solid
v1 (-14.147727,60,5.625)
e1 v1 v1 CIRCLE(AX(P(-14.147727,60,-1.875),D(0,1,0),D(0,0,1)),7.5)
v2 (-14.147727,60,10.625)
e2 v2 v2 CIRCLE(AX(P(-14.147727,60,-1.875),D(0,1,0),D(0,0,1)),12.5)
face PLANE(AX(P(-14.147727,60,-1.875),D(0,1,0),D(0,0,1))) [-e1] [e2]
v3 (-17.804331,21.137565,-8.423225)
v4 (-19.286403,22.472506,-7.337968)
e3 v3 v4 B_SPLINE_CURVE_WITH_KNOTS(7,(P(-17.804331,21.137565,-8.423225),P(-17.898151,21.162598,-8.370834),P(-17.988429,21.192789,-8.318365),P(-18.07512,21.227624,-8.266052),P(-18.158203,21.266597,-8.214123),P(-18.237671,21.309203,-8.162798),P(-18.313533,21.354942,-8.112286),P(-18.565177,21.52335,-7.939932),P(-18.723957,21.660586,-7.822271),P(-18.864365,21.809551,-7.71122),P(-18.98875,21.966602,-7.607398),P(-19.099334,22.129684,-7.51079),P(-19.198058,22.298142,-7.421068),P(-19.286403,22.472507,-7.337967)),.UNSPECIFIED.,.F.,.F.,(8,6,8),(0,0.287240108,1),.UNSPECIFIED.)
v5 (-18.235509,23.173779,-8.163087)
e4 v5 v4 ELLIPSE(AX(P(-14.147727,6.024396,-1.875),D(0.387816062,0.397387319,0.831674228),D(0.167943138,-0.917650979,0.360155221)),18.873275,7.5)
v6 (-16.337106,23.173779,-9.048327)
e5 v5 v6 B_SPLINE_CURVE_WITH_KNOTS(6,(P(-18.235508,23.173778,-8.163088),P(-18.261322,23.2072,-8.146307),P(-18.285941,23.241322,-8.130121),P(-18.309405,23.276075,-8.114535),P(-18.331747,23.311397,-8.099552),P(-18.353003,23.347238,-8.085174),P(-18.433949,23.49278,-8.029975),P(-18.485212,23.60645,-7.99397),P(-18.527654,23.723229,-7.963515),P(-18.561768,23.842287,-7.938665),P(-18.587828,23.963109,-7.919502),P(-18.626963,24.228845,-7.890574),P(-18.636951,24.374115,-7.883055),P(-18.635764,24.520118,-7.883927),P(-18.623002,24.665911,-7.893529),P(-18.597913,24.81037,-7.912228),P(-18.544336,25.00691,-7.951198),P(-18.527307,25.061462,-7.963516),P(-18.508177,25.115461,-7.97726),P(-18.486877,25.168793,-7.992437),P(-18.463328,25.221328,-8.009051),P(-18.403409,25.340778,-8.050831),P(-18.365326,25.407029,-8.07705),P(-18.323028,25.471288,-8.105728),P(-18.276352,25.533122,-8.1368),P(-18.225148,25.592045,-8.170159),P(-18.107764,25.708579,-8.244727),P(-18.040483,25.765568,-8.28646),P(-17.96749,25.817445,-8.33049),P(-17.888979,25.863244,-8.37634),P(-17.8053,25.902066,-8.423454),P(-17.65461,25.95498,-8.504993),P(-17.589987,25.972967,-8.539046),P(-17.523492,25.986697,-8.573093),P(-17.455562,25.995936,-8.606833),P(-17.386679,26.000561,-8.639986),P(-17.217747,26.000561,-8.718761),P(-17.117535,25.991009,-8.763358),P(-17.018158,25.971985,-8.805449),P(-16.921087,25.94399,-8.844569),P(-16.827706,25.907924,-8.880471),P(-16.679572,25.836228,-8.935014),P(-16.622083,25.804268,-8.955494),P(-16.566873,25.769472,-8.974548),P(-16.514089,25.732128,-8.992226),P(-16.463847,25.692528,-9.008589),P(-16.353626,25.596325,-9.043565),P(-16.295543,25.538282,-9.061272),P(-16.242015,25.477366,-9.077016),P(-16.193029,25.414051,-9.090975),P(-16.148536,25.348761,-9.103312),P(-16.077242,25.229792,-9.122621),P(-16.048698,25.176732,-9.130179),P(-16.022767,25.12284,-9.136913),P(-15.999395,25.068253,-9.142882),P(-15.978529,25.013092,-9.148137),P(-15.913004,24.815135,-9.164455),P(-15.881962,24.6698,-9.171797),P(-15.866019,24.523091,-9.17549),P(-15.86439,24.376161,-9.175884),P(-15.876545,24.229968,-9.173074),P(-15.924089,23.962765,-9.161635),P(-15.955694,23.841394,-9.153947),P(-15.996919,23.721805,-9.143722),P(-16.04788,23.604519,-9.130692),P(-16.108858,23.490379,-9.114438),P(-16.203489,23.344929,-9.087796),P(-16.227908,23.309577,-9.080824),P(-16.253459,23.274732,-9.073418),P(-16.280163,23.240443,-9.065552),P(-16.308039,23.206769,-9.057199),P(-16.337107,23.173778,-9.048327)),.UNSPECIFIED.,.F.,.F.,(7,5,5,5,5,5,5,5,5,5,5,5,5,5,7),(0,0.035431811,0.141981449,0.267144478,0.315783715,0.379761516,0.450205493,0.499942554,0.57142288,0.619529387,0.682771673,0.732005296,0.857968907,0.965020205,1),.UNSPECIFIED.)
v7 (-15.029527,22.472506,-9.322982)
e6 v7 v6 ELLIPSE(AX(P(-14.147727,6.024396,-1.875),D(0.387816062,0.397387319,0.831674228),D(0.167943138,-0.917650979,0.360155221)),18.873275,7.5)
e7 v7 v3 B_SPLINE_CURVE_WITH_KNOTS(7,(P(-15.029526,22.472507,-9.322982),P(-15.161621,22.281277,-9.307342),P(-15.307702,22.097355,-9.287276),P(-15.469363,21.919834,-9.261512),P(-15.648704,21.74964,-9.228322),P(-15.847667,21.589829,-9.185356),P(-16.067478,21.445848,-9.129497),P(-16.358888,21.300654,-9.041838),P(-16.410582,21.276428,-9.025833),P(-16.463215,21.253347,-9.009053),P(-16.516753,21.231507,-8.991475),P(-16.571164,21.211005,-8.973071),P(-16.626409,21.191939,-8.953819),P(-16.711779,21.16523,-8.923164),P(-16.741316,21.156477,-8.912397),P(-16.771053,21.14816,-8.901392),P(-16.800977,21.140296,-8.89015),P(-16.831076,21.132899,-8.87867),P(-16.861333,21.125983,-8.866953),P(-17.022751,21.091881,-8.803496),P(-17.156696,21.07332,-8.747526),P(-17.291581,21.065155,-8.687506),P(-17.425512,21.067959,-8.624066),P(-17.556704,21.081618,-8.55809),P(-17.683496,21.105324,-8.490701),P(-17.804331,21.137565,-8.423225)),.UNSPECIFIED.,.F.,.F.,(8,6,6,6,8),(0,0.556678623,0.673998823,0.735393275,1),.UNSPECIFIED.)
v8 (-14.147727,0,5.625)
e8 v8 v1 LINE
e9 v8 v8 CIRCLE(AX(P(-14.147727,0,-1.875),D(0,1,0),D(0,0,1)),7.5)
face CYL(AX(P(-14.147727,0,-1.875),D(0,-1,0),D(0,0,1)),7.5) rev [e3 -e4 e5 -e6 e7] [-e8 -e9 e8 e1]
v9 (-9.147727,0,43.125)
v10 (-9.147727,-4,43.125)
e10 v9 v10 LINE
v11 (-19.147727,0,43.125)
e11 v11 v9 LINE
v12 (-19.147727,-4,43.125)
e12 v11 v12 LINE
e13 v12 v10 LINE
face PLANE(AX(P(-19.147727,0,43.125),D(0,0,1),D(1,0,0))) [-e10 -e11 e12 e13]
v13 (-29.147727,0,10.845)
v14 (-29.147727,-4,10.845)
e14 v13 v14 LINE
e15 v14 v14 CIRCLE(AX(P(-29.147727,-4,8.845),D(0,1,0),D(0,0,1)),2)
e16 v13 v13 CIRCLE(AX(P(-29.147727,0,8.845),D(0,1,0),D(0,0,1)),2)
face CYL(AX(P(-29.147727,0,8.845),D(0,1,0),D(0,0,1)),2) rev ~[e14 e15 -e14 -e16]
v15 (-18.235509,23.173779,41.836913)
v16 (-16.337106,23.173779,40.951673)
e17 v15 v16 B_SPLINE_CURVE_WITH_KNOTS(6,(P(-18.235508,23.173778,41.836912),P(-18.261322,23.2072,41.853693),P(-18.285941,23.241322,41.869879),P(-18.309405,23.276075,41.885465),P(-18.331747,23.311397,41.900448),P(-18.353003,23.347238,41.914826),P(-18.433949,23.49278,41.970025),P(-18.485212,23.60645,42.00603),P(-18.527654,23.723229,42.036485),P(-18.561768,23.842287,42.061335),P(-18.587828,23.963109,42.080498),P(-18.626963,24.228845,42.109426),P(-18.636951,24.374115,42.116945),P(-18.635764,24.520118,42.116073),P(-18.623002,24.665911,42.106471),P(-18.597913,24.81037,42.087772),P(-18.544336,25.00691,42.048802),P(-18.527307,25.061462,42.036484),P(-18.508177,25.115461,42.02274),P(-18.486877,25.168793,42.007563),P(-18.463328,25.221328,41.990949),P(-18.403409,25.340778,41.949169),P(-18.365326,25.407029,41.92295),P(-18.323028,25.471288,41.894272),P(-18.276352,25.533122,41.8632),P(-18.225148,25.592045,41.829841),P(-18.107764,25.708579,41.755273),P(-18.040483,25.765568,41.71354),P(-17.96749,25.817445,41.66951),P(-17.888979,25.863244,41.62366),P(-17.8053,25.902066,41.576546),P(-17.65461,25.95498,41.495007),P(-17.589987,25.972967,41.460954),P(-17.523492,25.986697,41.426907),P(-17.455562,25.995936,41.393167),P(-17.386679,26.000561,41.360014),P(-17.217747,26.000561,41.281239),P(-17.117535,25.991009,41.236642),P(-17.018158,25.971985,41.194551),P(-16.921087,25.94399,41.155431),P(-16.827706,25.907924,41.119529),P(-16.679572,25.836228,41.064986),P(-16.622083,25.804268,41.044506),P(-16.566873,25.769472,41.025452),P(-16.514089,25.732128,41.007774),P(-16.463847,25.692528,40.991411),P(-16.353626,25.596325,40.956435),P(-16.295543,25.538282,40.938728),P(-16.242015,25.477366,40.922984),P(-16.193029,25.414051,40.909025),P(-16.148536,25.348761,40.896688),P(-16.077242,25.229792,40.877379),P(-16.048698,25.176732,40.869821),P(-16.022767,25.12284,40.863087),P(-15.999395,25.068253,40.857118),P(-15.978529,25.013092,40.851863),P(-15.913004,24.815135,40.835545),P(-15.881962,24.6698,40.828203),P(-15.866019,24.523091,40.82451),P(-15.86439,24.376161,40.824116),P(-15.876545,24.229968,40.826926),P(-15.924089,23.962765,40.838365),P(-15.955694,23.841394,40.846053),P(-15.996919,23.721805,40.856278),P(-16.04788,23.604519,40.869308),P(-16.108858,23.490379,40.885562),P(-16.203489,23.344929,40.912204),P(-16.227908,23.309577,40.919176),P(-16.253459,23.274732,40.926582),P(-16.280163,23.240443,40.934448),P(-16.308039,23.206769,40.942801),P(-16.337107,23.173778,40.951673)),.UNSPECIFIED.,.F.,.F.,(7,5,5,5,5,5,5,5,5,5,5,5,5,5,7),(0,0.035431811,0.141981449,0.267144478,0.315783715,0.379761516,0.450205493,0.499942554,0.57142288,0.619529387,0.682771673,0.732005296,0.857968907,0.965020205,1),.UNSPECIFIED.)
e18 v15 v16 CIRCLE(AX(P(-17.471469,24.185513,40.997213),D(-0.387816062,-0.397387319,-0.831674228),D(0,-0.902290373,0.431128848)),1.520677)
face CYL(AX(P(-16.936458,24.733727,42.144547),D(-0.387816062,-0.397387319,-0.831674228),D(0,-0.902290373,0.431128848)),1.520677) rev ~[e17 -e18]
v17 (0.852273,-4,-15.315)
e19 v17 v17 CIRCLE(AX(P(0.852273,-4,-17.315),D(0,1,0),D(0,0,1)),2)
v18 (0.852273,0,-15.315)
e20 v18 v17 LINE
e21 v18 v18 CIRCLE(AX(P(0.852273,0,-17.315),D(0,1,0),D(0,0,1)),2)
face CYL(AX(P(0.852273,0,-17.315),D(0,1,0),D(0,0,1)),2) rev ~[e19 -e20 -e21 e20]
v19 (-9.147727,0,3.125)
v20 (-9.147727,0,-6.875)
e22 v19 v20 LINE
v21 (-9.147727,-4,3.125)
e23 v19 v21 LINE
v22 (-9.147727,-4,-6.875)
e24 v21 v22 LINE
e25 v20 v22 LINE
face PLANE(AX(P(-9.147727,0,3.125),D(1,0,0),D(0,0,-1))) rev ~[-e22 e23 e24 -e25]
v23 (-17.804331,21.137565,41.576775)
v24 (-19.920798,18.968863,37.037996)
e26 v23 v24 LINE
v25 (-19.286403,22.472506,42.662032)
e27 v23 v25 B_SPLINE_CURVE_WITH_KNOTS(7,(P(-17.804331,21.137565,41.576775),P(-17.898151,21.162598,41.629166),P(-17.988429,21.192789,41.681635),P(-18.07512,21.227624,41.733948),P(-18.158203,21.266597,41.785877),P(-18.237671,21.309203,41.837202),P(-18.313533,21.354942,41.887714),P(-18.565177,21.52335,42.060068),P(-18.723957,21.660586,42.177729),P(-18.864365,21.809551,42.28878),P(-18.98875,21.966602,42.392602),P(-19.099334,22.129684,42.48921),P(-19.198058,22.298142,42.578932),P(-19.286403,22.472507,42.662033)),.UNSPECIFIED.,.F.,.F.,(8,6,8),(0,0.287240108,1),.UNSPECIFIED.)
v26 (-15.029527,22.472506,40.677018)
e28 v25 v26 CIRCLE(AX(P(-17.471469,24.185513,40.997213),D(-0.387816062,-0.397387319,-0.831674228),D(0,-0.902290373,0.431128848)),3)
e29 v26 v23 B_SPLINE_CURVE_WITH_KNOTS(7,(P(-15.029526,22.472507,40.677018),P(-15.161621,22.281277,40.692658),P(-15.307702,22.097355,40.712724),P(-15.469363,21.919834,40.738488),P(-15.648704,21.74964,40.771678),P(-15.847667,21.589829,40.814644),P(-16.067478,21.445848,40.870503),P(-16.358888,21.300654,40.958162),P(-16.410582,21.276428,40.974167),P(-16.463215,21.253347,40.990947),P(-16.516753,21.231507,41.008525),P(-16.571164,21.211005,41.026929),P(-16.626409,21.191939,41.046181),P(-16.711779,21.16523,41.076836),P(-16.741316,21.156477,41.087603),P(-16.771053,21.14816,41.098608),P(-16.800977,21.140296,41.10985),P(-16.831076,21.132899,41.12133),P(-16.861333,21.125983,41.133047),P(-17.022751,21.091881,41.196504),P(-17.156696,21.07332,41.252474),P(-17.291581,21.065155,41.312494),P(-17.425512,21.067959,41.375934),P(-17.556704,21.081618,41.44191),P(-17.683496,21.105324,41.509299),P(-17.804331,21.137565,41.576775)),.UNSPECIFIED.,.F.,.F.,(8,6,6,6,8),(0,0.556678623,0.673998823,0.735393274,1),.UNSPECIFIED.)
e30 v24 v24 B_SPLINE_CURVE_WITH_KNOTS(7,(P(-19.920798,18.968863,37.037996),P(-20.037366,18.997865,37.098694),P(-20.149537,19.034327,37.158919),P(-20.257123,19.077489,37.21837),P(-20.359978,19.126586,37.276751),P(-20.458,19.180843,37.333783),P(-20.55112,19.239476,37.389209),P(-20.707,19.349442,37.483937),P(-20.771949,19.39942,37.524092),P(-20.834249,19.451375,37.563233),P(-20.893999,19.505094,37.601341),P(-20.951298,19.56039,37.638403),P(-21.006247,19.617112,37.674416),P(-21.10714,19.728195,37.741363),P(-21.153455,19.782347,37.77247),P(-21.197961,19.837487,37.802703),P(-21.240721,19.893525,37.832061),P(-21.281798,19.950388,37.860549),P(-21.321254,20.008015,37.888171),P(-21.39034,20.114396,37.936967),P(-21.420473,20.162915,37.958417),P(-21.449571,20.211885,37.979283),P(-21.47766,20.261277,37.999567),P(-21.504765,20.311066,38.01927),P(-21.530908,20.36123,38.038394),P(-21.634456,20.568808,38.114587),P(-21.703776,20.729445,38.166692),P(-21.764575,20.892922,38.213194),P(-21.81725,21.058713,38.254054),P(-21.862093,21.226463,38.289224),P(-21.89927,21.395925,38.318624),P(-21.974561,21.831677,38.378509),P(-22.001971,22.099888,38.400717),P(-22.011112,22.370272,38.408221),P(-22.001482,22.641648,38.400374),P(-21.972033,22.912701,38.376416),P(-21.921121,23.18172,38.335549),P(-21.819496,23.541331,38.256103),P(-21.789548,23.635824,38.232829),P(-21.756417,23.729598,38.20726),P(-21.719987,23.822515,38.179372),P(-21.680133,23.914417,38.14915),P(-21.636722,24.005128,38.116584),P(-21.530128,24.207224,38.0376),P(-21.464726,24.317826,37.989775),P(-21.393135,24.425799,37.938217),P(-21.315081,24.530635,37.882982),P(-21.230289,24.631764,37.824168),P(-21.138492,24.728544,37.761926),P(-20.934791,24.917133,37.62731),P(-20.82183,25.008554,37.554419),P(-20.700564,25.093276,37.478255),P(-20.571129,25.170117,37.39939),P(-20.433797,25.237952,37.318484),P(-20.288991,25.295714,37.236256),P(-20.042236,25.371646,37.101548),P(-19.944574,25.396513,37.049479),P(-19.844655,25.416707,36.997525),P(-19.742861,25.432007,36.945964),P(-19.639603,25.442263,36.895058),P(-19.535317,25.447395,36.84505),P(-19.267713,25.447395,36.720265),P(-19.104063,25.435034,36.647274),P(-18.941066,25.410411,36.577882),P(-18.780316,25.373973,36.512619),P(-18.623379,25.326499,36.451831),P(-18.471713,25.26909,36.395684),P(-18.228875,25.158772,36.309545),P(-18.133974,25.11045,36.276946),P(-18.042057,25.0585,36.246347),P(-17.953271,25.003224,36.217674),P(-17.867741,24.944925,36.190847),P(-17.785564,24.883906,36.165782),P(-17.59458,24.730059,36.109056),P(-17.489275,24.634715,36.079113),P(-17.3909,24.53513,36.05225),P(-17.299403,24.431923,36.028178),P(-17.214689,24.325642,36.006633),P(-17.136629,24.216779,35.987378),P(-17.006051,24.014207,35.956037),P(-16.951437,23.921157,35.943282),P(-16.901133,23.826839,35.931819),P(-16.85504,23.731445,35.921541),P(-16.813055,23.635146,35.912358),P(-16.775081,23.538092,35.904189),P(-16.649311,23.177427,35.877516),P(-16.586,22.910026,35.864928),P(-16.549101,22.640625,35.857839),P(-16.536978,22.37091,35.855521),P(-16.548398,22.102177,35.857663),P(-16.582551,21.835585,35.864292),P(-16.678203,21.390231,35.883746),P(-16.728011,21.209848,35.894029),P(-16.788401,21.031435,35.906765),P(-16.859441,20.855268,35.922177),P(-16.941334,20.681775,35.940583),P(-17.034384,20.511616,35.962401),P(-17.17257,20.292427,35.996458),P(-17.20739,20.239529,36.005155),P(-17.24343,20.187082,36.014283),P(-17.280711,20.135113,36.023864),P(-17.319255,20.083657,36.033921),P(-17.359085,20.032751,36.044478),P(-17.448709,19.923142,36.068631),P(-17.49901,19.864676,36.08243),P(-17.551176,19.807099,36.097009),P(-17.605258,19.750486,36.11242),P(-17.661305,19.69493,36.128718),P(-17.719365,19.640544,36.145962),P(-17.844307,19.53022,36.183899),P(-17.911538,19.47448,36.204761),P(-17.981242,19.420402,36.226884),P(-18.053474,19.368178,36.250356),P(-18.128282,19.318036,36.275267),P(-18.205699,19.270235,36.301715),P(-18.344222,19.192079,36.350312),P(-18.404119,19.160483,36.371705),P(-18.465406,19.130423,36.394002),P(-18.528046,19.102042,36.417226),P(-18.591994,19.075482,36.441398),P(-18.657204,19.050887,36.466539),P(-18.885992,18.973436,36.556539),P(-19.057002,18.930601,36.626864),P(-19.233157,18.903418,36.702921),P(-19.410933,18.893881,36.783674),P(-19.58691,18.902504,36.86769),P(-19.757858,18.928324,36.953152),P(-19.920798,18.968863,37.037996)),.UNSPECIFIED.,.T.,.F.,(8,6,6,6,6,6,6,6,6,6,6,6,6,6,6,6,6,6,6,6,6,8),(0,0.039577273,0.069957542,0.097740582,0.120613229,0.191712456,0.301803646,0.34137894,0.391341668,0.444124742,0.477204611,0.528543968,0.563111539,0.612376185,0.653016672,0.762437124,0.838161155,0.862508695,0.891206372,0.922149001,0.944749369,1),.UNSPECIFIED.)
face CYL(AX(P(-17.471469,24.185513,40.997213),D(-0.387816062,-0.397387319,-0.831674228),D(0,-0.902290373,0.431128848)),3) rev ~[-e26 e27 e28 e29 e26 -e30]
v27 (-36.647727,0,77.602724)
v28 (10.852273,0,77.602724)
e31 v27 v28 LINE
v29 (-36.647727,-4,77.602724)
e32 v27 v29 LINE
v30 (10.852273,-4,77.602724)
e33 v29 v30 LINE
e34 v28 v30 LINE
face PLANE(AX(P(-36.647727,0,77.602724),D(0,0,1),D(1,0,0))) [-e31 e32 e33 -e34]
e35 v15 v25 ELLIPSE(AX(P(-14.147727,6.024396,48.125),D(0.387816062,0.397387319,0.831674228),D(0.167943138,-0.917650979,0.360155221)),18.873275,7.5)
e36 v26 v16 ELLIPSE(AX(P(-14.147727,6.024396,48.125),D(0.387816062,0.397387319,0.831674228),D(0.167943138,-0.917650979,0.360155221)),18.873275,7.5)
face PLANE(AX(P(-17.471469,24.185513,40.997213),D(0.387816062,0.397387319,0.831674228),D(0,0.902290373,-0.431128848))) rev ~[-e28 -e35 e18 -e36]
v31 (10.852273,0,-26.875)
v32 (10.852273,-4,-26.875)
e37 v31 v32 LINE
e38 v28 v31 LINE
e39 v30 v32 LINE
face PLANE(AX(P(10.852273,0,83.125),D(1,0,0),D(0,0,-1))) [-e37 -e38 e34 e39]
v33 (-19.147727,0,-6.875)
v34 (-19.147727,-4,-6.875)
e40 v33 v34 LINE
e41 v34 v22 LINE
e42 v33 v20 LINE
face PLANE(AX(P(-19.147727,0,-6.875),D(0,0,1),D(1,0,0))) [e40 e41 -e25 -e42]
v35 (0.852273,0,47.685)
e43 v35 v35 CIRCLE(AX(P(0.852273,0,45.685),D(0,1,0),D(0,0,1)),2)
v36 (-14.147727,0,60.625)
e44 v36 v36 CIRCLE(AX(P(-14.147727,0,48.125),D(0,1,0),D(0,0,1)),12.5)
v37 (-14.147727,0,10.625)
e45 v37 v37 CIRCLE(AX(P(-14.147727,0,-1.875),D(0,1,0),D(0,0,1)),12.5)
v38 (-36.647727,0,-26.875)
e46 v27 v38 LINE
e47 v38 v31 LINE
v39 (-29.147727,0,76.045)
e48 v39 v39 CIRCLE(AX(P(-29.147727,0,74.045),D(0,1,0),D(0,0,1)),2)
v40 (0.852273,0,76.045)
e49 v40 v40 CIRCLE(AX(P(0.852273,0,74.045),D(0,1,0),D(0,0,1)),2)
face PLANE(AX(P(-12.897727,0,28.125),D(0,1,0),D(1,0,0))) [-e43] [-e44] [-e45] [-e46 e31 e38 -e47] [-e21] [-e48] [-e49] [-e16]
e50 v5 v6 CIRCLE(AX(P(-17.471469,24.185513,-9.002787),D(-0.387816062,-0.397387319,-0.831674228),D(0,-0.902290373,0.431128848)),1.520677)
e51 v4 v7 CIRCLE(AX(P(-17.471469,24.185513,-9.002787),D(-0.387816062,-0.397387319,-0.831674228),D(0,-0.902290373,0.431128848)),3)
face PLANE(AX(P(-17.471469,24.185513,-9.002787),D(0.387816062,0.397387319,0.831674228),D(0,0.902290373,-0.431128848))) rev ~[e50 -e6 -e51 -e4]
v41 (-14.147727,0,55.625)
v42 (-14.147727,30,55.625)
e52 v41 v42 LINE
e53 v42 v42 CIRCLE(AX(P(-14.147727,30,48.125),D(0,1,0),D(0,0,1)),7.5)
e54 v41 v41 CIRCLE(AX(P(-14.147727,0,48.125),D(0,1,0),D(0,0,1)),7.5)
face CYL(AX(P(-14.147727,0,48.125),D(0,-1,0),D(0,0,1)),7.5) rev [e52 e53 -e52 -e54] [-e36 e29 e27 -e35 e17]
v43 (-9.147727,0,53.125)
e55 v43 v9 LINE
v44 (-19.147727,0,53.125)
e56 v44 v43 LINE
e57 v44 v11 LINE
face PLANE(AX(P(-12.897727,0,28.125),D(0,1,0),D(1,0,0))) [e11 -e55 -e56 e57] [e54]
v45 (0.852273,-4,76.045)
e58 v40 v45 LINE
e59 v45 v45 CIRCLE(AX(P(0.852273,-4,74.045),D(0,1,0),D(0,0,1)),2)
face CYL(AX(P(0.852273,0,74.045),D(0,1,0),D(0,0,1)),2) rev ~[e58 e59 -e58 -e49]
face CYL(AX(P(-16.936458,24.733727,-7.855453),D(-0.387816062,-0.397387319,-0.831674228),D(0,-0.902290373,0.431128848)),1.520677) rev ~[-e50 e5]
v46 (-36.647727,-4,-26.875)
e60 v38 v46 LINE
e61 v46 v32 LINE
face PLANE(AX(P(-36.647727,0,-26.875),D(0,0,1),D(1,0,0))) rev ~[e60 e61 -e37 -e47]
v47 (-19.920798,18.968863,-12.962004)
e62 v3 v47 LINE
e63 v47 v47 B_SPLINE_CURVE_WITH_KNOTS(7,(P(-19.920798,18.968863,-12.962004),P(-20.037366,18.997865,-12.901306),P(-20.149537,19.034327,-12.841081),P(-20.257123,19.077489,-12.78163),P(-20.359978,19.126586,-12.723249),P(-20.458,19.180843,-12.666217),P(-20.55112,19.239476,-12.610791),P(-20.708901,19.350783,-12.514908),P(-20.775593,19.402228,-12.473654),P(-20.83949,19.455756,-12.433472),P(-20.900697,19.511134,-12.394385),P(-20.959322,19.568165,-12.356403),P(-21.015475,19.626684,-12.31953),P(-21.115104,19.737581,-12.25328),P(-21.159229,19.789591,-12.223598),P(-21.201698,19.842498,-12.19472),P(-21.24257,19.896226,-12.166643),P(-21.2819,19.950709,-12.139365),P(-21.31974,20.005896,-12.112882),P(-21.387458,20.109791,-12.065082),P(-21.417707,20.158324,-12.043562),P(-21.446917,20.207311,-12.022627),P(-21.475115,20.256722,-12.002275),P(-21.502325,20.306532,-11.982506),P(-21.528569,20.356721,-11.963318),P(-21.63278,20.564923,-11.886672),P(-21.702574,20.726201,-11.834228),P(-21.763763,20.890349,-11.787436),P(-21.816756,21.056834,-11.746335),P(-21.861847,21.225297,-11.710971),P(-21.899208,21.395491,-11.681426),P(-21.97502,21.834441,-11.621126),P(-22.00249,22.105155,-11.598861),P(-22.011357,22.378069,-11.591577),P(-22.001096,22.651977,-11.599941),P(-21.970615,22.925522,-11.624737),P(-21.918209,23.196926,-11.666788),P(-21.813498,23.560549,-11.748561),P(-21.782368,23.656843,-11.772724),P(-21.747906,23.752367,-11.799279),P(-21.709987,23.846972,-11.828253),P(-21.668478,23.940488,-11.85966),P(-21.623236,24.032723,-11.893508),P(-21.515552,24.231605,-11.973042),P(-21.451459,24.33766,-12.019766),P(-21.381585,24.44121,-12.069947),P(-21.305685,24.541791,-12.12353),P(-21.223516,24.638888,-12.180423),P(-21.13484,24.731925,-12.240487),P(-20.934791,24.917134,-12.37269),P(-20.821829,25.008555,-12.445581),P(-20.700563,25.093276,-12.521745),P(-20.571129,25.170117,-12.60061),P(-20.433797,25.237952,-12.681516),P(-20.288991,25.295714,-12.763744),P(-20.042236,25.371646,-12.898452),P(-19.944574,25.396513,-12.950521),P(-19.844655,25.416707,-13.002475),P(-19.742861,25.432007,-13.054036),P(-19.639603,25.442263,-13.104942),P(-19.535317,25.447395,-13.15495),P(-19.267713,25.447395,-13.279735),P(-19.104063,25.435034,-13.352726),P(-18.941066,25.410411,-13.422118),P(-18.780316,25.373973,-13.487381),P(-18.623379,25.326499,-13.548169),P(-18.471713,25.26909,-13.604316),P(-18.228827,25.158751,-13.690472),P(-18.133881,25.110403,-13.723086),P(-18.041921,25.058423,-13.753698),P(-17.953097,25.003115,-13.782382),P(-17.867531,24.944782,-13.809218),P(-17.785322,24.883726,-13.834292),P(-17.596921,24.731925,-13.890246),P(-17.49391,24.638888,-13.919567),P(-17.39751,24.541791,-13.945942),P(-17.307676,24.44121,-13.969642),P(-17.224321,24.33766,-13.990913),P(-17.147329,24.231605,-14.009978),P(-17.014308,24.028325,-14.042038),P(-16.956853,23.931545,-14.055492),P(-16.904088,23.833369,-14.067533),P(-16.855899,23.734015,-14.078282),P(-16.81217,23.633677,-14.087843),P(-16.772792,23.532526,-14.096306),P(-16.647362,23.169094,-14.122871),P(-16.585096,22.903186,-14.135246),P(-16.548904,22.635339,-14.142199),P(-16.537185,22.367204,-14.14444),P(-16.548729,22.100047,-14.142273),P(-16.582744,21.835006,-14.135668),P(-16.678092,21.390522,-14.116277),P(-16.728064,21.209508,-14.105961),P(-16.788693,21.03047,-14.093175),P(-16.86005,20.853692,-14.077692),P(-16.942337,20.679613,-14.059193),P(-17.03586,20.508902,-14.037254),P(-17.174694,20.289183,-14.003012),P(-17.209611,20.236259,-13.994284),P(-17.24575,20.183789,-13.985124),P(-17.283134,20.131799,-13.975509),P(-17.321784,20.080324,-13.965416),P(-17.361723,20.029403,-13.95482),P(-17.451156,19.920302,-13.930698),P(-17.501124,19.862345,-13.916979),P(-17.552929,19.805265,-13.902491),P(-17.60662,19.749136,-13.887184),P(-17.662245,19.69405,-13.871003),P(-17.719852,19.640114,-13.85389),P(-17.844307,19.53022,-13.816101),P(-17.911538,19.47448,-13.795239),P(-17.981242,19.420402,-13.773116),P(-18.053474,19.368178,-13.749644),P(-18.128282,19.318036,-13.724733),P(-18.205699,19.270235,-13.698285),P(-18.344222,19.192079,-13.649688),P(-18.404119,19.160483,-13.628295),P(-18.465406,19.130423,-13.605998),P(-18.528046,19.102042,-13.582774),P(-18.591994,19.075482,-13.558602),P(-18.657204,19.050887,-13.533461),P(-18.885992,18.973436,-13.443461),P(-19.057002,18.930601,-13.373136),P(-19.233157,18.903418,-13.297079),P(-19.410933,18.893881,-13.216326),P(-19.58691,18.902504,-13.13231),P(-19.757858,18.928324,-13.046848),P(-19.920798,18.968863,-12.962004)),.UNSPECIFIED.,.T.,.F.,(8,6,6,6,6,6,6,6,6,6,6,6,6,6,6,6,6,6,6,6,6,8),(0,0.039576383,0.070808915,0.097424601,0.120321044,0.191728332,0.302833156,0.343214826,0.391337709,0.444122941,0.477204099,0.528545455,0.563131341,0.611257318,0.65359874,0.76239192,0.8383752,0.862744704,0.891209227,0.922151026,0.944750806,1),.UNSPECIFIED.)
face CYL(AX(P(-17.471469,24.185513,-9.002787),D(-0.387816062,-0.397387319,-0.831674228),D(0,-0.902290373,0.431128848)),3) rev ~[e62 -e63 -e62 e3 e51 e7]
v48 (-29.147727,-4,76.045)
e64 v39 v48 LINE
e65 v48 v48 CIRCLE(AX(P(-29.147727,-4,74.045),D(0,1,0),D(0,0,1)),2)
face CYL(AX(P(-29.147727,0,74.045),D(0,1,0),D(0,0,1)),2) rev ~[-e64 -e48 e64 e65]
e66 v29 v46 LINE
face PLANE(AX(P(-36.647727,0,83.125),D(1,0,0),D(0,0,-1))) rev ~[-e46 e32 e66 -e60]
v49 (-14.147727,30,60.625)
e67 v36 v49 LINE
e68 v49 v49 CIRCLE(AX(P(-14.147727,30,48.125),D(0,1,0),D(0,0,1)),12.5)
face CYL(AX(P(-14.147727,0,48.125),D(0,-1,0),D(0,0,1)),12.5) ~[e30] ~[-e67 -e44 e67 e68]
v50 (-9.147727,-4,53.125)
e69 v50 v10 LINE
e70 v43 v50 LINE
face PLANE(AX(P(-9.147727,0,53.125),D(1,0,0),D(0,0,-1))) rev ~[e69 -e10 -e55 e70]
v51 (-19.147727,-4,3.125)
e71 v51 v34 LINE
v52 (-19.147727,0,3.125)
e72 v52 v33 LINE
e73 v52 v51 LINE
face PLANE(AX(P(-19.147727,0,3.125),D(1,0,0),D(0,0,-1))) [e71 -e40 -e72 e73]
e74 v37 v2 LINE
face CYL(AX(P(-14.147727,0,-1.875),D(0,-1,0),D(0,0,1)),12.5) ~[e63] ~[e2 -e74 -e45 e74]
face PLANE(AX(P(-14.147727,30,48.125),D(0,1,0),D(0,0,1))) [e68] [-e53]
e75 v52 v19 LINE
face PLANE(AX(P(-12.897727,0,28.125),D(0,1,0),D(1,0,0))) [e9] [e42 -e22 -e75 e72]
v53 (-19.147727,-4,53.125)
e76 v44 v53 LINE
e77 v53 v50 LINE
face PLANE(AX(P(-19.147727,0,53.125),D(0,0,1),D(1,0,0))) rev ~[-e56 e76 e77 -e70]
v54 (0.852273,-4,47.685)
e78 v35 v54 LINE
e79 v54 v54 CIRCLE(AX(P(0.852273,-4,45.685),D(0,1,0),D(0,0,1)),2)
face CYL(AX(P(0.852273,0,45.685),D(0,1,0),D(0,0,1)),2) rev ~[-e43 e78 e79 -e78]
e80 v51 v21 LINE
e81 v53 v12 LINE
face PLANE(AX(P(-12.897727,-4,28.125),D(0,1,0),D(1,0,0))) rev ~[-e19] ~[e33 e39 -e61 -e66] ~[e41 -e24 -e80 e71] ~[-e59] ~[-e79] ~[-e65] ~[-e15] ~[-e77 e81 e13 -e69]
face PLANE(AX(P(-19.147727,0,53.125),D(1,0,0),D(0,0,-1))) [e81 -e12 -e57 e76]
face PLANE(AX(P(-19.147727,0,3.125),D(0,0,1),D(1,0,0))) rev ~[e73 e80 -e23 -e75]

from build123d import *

# Parameters (mm, degrees)
SKETCH1_W                  = 47.5
SKETCH1_H                  = 110
SKETCH1_R                  = 2
SKETCH1_W_2                = 10
SKETCH1_H_2                = 10
BOSS_EXTRUDE1_DEPTH        = 4
SKETCH2_R                  = 12.5
SKETCH2_R_2                = 7.5
BOSS_EXTRUDE2_DEPTH        = 30
SKETCH4_R                  = 12.5
SKETCH4_R_2                = 7.5
BOSS_EXTRUDE3_DEPTH        = 60
SZKIC1_W                   = 47.5
SZKIC1_H                   = 5.522276491
WYTNIJ_WYCI_GNI_CIE1_DEPTH = 10.5
SZYK_LINIOWY1_COUNT        = 2
SZYK_LINIOWY1_PITCH        = 50


with BuildPart() as part:
    # Sketch1 → Boss-Extrude1 (new body)
    with BuildSketch(Plane(origin=(0, 0, 0), x_dir=(1, 0, 0), z_dir=(0, 1, 0))):
        with Locations((-12.897727273, -28.125)):
            Rectangle(SKETCH1_W, SKETCH1_H)
        with Locations(Location((0.852272727, 17.315, 0), (0, 0, 270))):
            Circle(SKETCH1_R, mode=Mode.SUBTRACT)
        with Locations(Location((-29.147727273, -8.845, 0), (0, 0, 270))):
            Circle(SKETCH1_R, mode=Mode.SUBTRACT)
        with Locations(Location((0.852272727, -45.685, 0), (0, 0, 270))):
            Circle(SKETCH1_R, mode=Mode.SUBTRACT)
        with Locations(Location((0.852272727, -74.045, 0), (0, 0, 270))):
            Circle(SKETCH1_R, mode=Mode.SUBTRACT)
        with Locations(Location((-29.147727273, -74.045, 0), (0, 0, 270))):
            Circle(SKETCH1_R, mode=Mode.SUBTRACT)
        with Locations((-14.147727273, 1.875)):
            Rectangle(SKETCH1_W_2, SKETCH1_H_2, mode=Mode.SUBTRACT)
        with Locations((-14.147727273, -48.125)):
            Rectangle(SKETCH1_W_2, SKETCH1_H_2, mode=Mode.SUBTRACT)
    extrude(amount=-BOSS_EXTRUDE1_DEPTH)

    # Sketch2 → Boss-Extrude2 (add)
    with BuildSketch(Plane(origin=(0, 0, 0), x_dir=(1, 0, 0), z_dir=(0, 1, 0))):
        with Locations(Location((-14.147727273, -48.125, 0), (0, 0, 270))):
            Circle(SKETCH2_R)
        with Locations(Location((-14.147727273, -48.125, 0), (0, 0, 270))):
            Circle(SKETCH2_R_2, mode=Mode.SUBTRACT)
    extrude(amount=BOSS_EXTRUDE2_DEPTH)

    # Sketch4 → Boss-Extrude3 (add)
    with BuildSketch(Plane(origin=(0, 0, 0), x_dir=(1, 0, 0), z_dir=(0, 1, 0))):
        with Locations(Location((-14.147727273, 1.875, 0), (0, 0, 270))):
            Circle(SKETCH4_R)
        with Locations(Location((-14.147727273, 1.875, 0), (0, 0, 270))):
            Circle(SKETCH4_R_2, mode=Mode.SUBTRACT)
    extrude(amount=BOSS_EXTRUDE3_DEPTH)

    # Szkic1 → Wytnij-wyciągnięcie1 (cut)
    with BuildSketch(Plane(origin=(0, 0, 0), x_dir=(1, 0, 0), z_dir=(0, 1, 0))):
        with Locations((-12.897727273, -80.363861754)):
            Rectangle(SZKIC1_W, SZKIC1_H)
    extrude(amount=-WYTNIJ_WYCI_GNI_CIE1_DEPTH, mode=Mode.SUBTRACT)

    # Szkic3 → Wycięcie-obrót1 (revolve, cut)
    with BuildSketch(Plane(origin=(-30.053799947, 0, 14.014317072), x_dir=(-0.4226182617407009, 0, -0.9063077870366493), z_dir=(0.9063077870366493, 0, -0.4226182617407009)), mode=Mode.PRIVATE) as wyci_cie_obr_t1_sk:
        Polygon((-31.038274345, 24.733727238), (-30.433976709, 26.129177698), (-29.168033578, 25.580963009), (-28.580169258, 26.938465486), (-22.156612406, 24.156754256), (-23.348774361, 21.40380132), align=None)
    wyci_cie_obr_t1 = revolve(wyci_cie_obr_t1_sk.sketch.rotate(Axis((-15.574618004, 26.129177698, 45.065022951), (-0.3878160615913765, -0.3973873185023342, -0.8316742279674645)), 190.498100282), axis=Axis((-15.574618004, 26.129177698, 45.065022951), (-0.3878160615913765, -0.3973873185023342, -0.8316742279674645)), mode=Mode.SUBTRACT)

    # Szyk liniowy1: Wycięcie-obrót1 ×2
    with Locations(*[(0, 0, -i * SZYK_LINIOWY1_PITCH) for i in range(1, SZYK_LINIOWY1_COUNT)]):
        add(wyci_cie_obr_t1, mode=Mode.SUBTRACT)


solid = part.part
